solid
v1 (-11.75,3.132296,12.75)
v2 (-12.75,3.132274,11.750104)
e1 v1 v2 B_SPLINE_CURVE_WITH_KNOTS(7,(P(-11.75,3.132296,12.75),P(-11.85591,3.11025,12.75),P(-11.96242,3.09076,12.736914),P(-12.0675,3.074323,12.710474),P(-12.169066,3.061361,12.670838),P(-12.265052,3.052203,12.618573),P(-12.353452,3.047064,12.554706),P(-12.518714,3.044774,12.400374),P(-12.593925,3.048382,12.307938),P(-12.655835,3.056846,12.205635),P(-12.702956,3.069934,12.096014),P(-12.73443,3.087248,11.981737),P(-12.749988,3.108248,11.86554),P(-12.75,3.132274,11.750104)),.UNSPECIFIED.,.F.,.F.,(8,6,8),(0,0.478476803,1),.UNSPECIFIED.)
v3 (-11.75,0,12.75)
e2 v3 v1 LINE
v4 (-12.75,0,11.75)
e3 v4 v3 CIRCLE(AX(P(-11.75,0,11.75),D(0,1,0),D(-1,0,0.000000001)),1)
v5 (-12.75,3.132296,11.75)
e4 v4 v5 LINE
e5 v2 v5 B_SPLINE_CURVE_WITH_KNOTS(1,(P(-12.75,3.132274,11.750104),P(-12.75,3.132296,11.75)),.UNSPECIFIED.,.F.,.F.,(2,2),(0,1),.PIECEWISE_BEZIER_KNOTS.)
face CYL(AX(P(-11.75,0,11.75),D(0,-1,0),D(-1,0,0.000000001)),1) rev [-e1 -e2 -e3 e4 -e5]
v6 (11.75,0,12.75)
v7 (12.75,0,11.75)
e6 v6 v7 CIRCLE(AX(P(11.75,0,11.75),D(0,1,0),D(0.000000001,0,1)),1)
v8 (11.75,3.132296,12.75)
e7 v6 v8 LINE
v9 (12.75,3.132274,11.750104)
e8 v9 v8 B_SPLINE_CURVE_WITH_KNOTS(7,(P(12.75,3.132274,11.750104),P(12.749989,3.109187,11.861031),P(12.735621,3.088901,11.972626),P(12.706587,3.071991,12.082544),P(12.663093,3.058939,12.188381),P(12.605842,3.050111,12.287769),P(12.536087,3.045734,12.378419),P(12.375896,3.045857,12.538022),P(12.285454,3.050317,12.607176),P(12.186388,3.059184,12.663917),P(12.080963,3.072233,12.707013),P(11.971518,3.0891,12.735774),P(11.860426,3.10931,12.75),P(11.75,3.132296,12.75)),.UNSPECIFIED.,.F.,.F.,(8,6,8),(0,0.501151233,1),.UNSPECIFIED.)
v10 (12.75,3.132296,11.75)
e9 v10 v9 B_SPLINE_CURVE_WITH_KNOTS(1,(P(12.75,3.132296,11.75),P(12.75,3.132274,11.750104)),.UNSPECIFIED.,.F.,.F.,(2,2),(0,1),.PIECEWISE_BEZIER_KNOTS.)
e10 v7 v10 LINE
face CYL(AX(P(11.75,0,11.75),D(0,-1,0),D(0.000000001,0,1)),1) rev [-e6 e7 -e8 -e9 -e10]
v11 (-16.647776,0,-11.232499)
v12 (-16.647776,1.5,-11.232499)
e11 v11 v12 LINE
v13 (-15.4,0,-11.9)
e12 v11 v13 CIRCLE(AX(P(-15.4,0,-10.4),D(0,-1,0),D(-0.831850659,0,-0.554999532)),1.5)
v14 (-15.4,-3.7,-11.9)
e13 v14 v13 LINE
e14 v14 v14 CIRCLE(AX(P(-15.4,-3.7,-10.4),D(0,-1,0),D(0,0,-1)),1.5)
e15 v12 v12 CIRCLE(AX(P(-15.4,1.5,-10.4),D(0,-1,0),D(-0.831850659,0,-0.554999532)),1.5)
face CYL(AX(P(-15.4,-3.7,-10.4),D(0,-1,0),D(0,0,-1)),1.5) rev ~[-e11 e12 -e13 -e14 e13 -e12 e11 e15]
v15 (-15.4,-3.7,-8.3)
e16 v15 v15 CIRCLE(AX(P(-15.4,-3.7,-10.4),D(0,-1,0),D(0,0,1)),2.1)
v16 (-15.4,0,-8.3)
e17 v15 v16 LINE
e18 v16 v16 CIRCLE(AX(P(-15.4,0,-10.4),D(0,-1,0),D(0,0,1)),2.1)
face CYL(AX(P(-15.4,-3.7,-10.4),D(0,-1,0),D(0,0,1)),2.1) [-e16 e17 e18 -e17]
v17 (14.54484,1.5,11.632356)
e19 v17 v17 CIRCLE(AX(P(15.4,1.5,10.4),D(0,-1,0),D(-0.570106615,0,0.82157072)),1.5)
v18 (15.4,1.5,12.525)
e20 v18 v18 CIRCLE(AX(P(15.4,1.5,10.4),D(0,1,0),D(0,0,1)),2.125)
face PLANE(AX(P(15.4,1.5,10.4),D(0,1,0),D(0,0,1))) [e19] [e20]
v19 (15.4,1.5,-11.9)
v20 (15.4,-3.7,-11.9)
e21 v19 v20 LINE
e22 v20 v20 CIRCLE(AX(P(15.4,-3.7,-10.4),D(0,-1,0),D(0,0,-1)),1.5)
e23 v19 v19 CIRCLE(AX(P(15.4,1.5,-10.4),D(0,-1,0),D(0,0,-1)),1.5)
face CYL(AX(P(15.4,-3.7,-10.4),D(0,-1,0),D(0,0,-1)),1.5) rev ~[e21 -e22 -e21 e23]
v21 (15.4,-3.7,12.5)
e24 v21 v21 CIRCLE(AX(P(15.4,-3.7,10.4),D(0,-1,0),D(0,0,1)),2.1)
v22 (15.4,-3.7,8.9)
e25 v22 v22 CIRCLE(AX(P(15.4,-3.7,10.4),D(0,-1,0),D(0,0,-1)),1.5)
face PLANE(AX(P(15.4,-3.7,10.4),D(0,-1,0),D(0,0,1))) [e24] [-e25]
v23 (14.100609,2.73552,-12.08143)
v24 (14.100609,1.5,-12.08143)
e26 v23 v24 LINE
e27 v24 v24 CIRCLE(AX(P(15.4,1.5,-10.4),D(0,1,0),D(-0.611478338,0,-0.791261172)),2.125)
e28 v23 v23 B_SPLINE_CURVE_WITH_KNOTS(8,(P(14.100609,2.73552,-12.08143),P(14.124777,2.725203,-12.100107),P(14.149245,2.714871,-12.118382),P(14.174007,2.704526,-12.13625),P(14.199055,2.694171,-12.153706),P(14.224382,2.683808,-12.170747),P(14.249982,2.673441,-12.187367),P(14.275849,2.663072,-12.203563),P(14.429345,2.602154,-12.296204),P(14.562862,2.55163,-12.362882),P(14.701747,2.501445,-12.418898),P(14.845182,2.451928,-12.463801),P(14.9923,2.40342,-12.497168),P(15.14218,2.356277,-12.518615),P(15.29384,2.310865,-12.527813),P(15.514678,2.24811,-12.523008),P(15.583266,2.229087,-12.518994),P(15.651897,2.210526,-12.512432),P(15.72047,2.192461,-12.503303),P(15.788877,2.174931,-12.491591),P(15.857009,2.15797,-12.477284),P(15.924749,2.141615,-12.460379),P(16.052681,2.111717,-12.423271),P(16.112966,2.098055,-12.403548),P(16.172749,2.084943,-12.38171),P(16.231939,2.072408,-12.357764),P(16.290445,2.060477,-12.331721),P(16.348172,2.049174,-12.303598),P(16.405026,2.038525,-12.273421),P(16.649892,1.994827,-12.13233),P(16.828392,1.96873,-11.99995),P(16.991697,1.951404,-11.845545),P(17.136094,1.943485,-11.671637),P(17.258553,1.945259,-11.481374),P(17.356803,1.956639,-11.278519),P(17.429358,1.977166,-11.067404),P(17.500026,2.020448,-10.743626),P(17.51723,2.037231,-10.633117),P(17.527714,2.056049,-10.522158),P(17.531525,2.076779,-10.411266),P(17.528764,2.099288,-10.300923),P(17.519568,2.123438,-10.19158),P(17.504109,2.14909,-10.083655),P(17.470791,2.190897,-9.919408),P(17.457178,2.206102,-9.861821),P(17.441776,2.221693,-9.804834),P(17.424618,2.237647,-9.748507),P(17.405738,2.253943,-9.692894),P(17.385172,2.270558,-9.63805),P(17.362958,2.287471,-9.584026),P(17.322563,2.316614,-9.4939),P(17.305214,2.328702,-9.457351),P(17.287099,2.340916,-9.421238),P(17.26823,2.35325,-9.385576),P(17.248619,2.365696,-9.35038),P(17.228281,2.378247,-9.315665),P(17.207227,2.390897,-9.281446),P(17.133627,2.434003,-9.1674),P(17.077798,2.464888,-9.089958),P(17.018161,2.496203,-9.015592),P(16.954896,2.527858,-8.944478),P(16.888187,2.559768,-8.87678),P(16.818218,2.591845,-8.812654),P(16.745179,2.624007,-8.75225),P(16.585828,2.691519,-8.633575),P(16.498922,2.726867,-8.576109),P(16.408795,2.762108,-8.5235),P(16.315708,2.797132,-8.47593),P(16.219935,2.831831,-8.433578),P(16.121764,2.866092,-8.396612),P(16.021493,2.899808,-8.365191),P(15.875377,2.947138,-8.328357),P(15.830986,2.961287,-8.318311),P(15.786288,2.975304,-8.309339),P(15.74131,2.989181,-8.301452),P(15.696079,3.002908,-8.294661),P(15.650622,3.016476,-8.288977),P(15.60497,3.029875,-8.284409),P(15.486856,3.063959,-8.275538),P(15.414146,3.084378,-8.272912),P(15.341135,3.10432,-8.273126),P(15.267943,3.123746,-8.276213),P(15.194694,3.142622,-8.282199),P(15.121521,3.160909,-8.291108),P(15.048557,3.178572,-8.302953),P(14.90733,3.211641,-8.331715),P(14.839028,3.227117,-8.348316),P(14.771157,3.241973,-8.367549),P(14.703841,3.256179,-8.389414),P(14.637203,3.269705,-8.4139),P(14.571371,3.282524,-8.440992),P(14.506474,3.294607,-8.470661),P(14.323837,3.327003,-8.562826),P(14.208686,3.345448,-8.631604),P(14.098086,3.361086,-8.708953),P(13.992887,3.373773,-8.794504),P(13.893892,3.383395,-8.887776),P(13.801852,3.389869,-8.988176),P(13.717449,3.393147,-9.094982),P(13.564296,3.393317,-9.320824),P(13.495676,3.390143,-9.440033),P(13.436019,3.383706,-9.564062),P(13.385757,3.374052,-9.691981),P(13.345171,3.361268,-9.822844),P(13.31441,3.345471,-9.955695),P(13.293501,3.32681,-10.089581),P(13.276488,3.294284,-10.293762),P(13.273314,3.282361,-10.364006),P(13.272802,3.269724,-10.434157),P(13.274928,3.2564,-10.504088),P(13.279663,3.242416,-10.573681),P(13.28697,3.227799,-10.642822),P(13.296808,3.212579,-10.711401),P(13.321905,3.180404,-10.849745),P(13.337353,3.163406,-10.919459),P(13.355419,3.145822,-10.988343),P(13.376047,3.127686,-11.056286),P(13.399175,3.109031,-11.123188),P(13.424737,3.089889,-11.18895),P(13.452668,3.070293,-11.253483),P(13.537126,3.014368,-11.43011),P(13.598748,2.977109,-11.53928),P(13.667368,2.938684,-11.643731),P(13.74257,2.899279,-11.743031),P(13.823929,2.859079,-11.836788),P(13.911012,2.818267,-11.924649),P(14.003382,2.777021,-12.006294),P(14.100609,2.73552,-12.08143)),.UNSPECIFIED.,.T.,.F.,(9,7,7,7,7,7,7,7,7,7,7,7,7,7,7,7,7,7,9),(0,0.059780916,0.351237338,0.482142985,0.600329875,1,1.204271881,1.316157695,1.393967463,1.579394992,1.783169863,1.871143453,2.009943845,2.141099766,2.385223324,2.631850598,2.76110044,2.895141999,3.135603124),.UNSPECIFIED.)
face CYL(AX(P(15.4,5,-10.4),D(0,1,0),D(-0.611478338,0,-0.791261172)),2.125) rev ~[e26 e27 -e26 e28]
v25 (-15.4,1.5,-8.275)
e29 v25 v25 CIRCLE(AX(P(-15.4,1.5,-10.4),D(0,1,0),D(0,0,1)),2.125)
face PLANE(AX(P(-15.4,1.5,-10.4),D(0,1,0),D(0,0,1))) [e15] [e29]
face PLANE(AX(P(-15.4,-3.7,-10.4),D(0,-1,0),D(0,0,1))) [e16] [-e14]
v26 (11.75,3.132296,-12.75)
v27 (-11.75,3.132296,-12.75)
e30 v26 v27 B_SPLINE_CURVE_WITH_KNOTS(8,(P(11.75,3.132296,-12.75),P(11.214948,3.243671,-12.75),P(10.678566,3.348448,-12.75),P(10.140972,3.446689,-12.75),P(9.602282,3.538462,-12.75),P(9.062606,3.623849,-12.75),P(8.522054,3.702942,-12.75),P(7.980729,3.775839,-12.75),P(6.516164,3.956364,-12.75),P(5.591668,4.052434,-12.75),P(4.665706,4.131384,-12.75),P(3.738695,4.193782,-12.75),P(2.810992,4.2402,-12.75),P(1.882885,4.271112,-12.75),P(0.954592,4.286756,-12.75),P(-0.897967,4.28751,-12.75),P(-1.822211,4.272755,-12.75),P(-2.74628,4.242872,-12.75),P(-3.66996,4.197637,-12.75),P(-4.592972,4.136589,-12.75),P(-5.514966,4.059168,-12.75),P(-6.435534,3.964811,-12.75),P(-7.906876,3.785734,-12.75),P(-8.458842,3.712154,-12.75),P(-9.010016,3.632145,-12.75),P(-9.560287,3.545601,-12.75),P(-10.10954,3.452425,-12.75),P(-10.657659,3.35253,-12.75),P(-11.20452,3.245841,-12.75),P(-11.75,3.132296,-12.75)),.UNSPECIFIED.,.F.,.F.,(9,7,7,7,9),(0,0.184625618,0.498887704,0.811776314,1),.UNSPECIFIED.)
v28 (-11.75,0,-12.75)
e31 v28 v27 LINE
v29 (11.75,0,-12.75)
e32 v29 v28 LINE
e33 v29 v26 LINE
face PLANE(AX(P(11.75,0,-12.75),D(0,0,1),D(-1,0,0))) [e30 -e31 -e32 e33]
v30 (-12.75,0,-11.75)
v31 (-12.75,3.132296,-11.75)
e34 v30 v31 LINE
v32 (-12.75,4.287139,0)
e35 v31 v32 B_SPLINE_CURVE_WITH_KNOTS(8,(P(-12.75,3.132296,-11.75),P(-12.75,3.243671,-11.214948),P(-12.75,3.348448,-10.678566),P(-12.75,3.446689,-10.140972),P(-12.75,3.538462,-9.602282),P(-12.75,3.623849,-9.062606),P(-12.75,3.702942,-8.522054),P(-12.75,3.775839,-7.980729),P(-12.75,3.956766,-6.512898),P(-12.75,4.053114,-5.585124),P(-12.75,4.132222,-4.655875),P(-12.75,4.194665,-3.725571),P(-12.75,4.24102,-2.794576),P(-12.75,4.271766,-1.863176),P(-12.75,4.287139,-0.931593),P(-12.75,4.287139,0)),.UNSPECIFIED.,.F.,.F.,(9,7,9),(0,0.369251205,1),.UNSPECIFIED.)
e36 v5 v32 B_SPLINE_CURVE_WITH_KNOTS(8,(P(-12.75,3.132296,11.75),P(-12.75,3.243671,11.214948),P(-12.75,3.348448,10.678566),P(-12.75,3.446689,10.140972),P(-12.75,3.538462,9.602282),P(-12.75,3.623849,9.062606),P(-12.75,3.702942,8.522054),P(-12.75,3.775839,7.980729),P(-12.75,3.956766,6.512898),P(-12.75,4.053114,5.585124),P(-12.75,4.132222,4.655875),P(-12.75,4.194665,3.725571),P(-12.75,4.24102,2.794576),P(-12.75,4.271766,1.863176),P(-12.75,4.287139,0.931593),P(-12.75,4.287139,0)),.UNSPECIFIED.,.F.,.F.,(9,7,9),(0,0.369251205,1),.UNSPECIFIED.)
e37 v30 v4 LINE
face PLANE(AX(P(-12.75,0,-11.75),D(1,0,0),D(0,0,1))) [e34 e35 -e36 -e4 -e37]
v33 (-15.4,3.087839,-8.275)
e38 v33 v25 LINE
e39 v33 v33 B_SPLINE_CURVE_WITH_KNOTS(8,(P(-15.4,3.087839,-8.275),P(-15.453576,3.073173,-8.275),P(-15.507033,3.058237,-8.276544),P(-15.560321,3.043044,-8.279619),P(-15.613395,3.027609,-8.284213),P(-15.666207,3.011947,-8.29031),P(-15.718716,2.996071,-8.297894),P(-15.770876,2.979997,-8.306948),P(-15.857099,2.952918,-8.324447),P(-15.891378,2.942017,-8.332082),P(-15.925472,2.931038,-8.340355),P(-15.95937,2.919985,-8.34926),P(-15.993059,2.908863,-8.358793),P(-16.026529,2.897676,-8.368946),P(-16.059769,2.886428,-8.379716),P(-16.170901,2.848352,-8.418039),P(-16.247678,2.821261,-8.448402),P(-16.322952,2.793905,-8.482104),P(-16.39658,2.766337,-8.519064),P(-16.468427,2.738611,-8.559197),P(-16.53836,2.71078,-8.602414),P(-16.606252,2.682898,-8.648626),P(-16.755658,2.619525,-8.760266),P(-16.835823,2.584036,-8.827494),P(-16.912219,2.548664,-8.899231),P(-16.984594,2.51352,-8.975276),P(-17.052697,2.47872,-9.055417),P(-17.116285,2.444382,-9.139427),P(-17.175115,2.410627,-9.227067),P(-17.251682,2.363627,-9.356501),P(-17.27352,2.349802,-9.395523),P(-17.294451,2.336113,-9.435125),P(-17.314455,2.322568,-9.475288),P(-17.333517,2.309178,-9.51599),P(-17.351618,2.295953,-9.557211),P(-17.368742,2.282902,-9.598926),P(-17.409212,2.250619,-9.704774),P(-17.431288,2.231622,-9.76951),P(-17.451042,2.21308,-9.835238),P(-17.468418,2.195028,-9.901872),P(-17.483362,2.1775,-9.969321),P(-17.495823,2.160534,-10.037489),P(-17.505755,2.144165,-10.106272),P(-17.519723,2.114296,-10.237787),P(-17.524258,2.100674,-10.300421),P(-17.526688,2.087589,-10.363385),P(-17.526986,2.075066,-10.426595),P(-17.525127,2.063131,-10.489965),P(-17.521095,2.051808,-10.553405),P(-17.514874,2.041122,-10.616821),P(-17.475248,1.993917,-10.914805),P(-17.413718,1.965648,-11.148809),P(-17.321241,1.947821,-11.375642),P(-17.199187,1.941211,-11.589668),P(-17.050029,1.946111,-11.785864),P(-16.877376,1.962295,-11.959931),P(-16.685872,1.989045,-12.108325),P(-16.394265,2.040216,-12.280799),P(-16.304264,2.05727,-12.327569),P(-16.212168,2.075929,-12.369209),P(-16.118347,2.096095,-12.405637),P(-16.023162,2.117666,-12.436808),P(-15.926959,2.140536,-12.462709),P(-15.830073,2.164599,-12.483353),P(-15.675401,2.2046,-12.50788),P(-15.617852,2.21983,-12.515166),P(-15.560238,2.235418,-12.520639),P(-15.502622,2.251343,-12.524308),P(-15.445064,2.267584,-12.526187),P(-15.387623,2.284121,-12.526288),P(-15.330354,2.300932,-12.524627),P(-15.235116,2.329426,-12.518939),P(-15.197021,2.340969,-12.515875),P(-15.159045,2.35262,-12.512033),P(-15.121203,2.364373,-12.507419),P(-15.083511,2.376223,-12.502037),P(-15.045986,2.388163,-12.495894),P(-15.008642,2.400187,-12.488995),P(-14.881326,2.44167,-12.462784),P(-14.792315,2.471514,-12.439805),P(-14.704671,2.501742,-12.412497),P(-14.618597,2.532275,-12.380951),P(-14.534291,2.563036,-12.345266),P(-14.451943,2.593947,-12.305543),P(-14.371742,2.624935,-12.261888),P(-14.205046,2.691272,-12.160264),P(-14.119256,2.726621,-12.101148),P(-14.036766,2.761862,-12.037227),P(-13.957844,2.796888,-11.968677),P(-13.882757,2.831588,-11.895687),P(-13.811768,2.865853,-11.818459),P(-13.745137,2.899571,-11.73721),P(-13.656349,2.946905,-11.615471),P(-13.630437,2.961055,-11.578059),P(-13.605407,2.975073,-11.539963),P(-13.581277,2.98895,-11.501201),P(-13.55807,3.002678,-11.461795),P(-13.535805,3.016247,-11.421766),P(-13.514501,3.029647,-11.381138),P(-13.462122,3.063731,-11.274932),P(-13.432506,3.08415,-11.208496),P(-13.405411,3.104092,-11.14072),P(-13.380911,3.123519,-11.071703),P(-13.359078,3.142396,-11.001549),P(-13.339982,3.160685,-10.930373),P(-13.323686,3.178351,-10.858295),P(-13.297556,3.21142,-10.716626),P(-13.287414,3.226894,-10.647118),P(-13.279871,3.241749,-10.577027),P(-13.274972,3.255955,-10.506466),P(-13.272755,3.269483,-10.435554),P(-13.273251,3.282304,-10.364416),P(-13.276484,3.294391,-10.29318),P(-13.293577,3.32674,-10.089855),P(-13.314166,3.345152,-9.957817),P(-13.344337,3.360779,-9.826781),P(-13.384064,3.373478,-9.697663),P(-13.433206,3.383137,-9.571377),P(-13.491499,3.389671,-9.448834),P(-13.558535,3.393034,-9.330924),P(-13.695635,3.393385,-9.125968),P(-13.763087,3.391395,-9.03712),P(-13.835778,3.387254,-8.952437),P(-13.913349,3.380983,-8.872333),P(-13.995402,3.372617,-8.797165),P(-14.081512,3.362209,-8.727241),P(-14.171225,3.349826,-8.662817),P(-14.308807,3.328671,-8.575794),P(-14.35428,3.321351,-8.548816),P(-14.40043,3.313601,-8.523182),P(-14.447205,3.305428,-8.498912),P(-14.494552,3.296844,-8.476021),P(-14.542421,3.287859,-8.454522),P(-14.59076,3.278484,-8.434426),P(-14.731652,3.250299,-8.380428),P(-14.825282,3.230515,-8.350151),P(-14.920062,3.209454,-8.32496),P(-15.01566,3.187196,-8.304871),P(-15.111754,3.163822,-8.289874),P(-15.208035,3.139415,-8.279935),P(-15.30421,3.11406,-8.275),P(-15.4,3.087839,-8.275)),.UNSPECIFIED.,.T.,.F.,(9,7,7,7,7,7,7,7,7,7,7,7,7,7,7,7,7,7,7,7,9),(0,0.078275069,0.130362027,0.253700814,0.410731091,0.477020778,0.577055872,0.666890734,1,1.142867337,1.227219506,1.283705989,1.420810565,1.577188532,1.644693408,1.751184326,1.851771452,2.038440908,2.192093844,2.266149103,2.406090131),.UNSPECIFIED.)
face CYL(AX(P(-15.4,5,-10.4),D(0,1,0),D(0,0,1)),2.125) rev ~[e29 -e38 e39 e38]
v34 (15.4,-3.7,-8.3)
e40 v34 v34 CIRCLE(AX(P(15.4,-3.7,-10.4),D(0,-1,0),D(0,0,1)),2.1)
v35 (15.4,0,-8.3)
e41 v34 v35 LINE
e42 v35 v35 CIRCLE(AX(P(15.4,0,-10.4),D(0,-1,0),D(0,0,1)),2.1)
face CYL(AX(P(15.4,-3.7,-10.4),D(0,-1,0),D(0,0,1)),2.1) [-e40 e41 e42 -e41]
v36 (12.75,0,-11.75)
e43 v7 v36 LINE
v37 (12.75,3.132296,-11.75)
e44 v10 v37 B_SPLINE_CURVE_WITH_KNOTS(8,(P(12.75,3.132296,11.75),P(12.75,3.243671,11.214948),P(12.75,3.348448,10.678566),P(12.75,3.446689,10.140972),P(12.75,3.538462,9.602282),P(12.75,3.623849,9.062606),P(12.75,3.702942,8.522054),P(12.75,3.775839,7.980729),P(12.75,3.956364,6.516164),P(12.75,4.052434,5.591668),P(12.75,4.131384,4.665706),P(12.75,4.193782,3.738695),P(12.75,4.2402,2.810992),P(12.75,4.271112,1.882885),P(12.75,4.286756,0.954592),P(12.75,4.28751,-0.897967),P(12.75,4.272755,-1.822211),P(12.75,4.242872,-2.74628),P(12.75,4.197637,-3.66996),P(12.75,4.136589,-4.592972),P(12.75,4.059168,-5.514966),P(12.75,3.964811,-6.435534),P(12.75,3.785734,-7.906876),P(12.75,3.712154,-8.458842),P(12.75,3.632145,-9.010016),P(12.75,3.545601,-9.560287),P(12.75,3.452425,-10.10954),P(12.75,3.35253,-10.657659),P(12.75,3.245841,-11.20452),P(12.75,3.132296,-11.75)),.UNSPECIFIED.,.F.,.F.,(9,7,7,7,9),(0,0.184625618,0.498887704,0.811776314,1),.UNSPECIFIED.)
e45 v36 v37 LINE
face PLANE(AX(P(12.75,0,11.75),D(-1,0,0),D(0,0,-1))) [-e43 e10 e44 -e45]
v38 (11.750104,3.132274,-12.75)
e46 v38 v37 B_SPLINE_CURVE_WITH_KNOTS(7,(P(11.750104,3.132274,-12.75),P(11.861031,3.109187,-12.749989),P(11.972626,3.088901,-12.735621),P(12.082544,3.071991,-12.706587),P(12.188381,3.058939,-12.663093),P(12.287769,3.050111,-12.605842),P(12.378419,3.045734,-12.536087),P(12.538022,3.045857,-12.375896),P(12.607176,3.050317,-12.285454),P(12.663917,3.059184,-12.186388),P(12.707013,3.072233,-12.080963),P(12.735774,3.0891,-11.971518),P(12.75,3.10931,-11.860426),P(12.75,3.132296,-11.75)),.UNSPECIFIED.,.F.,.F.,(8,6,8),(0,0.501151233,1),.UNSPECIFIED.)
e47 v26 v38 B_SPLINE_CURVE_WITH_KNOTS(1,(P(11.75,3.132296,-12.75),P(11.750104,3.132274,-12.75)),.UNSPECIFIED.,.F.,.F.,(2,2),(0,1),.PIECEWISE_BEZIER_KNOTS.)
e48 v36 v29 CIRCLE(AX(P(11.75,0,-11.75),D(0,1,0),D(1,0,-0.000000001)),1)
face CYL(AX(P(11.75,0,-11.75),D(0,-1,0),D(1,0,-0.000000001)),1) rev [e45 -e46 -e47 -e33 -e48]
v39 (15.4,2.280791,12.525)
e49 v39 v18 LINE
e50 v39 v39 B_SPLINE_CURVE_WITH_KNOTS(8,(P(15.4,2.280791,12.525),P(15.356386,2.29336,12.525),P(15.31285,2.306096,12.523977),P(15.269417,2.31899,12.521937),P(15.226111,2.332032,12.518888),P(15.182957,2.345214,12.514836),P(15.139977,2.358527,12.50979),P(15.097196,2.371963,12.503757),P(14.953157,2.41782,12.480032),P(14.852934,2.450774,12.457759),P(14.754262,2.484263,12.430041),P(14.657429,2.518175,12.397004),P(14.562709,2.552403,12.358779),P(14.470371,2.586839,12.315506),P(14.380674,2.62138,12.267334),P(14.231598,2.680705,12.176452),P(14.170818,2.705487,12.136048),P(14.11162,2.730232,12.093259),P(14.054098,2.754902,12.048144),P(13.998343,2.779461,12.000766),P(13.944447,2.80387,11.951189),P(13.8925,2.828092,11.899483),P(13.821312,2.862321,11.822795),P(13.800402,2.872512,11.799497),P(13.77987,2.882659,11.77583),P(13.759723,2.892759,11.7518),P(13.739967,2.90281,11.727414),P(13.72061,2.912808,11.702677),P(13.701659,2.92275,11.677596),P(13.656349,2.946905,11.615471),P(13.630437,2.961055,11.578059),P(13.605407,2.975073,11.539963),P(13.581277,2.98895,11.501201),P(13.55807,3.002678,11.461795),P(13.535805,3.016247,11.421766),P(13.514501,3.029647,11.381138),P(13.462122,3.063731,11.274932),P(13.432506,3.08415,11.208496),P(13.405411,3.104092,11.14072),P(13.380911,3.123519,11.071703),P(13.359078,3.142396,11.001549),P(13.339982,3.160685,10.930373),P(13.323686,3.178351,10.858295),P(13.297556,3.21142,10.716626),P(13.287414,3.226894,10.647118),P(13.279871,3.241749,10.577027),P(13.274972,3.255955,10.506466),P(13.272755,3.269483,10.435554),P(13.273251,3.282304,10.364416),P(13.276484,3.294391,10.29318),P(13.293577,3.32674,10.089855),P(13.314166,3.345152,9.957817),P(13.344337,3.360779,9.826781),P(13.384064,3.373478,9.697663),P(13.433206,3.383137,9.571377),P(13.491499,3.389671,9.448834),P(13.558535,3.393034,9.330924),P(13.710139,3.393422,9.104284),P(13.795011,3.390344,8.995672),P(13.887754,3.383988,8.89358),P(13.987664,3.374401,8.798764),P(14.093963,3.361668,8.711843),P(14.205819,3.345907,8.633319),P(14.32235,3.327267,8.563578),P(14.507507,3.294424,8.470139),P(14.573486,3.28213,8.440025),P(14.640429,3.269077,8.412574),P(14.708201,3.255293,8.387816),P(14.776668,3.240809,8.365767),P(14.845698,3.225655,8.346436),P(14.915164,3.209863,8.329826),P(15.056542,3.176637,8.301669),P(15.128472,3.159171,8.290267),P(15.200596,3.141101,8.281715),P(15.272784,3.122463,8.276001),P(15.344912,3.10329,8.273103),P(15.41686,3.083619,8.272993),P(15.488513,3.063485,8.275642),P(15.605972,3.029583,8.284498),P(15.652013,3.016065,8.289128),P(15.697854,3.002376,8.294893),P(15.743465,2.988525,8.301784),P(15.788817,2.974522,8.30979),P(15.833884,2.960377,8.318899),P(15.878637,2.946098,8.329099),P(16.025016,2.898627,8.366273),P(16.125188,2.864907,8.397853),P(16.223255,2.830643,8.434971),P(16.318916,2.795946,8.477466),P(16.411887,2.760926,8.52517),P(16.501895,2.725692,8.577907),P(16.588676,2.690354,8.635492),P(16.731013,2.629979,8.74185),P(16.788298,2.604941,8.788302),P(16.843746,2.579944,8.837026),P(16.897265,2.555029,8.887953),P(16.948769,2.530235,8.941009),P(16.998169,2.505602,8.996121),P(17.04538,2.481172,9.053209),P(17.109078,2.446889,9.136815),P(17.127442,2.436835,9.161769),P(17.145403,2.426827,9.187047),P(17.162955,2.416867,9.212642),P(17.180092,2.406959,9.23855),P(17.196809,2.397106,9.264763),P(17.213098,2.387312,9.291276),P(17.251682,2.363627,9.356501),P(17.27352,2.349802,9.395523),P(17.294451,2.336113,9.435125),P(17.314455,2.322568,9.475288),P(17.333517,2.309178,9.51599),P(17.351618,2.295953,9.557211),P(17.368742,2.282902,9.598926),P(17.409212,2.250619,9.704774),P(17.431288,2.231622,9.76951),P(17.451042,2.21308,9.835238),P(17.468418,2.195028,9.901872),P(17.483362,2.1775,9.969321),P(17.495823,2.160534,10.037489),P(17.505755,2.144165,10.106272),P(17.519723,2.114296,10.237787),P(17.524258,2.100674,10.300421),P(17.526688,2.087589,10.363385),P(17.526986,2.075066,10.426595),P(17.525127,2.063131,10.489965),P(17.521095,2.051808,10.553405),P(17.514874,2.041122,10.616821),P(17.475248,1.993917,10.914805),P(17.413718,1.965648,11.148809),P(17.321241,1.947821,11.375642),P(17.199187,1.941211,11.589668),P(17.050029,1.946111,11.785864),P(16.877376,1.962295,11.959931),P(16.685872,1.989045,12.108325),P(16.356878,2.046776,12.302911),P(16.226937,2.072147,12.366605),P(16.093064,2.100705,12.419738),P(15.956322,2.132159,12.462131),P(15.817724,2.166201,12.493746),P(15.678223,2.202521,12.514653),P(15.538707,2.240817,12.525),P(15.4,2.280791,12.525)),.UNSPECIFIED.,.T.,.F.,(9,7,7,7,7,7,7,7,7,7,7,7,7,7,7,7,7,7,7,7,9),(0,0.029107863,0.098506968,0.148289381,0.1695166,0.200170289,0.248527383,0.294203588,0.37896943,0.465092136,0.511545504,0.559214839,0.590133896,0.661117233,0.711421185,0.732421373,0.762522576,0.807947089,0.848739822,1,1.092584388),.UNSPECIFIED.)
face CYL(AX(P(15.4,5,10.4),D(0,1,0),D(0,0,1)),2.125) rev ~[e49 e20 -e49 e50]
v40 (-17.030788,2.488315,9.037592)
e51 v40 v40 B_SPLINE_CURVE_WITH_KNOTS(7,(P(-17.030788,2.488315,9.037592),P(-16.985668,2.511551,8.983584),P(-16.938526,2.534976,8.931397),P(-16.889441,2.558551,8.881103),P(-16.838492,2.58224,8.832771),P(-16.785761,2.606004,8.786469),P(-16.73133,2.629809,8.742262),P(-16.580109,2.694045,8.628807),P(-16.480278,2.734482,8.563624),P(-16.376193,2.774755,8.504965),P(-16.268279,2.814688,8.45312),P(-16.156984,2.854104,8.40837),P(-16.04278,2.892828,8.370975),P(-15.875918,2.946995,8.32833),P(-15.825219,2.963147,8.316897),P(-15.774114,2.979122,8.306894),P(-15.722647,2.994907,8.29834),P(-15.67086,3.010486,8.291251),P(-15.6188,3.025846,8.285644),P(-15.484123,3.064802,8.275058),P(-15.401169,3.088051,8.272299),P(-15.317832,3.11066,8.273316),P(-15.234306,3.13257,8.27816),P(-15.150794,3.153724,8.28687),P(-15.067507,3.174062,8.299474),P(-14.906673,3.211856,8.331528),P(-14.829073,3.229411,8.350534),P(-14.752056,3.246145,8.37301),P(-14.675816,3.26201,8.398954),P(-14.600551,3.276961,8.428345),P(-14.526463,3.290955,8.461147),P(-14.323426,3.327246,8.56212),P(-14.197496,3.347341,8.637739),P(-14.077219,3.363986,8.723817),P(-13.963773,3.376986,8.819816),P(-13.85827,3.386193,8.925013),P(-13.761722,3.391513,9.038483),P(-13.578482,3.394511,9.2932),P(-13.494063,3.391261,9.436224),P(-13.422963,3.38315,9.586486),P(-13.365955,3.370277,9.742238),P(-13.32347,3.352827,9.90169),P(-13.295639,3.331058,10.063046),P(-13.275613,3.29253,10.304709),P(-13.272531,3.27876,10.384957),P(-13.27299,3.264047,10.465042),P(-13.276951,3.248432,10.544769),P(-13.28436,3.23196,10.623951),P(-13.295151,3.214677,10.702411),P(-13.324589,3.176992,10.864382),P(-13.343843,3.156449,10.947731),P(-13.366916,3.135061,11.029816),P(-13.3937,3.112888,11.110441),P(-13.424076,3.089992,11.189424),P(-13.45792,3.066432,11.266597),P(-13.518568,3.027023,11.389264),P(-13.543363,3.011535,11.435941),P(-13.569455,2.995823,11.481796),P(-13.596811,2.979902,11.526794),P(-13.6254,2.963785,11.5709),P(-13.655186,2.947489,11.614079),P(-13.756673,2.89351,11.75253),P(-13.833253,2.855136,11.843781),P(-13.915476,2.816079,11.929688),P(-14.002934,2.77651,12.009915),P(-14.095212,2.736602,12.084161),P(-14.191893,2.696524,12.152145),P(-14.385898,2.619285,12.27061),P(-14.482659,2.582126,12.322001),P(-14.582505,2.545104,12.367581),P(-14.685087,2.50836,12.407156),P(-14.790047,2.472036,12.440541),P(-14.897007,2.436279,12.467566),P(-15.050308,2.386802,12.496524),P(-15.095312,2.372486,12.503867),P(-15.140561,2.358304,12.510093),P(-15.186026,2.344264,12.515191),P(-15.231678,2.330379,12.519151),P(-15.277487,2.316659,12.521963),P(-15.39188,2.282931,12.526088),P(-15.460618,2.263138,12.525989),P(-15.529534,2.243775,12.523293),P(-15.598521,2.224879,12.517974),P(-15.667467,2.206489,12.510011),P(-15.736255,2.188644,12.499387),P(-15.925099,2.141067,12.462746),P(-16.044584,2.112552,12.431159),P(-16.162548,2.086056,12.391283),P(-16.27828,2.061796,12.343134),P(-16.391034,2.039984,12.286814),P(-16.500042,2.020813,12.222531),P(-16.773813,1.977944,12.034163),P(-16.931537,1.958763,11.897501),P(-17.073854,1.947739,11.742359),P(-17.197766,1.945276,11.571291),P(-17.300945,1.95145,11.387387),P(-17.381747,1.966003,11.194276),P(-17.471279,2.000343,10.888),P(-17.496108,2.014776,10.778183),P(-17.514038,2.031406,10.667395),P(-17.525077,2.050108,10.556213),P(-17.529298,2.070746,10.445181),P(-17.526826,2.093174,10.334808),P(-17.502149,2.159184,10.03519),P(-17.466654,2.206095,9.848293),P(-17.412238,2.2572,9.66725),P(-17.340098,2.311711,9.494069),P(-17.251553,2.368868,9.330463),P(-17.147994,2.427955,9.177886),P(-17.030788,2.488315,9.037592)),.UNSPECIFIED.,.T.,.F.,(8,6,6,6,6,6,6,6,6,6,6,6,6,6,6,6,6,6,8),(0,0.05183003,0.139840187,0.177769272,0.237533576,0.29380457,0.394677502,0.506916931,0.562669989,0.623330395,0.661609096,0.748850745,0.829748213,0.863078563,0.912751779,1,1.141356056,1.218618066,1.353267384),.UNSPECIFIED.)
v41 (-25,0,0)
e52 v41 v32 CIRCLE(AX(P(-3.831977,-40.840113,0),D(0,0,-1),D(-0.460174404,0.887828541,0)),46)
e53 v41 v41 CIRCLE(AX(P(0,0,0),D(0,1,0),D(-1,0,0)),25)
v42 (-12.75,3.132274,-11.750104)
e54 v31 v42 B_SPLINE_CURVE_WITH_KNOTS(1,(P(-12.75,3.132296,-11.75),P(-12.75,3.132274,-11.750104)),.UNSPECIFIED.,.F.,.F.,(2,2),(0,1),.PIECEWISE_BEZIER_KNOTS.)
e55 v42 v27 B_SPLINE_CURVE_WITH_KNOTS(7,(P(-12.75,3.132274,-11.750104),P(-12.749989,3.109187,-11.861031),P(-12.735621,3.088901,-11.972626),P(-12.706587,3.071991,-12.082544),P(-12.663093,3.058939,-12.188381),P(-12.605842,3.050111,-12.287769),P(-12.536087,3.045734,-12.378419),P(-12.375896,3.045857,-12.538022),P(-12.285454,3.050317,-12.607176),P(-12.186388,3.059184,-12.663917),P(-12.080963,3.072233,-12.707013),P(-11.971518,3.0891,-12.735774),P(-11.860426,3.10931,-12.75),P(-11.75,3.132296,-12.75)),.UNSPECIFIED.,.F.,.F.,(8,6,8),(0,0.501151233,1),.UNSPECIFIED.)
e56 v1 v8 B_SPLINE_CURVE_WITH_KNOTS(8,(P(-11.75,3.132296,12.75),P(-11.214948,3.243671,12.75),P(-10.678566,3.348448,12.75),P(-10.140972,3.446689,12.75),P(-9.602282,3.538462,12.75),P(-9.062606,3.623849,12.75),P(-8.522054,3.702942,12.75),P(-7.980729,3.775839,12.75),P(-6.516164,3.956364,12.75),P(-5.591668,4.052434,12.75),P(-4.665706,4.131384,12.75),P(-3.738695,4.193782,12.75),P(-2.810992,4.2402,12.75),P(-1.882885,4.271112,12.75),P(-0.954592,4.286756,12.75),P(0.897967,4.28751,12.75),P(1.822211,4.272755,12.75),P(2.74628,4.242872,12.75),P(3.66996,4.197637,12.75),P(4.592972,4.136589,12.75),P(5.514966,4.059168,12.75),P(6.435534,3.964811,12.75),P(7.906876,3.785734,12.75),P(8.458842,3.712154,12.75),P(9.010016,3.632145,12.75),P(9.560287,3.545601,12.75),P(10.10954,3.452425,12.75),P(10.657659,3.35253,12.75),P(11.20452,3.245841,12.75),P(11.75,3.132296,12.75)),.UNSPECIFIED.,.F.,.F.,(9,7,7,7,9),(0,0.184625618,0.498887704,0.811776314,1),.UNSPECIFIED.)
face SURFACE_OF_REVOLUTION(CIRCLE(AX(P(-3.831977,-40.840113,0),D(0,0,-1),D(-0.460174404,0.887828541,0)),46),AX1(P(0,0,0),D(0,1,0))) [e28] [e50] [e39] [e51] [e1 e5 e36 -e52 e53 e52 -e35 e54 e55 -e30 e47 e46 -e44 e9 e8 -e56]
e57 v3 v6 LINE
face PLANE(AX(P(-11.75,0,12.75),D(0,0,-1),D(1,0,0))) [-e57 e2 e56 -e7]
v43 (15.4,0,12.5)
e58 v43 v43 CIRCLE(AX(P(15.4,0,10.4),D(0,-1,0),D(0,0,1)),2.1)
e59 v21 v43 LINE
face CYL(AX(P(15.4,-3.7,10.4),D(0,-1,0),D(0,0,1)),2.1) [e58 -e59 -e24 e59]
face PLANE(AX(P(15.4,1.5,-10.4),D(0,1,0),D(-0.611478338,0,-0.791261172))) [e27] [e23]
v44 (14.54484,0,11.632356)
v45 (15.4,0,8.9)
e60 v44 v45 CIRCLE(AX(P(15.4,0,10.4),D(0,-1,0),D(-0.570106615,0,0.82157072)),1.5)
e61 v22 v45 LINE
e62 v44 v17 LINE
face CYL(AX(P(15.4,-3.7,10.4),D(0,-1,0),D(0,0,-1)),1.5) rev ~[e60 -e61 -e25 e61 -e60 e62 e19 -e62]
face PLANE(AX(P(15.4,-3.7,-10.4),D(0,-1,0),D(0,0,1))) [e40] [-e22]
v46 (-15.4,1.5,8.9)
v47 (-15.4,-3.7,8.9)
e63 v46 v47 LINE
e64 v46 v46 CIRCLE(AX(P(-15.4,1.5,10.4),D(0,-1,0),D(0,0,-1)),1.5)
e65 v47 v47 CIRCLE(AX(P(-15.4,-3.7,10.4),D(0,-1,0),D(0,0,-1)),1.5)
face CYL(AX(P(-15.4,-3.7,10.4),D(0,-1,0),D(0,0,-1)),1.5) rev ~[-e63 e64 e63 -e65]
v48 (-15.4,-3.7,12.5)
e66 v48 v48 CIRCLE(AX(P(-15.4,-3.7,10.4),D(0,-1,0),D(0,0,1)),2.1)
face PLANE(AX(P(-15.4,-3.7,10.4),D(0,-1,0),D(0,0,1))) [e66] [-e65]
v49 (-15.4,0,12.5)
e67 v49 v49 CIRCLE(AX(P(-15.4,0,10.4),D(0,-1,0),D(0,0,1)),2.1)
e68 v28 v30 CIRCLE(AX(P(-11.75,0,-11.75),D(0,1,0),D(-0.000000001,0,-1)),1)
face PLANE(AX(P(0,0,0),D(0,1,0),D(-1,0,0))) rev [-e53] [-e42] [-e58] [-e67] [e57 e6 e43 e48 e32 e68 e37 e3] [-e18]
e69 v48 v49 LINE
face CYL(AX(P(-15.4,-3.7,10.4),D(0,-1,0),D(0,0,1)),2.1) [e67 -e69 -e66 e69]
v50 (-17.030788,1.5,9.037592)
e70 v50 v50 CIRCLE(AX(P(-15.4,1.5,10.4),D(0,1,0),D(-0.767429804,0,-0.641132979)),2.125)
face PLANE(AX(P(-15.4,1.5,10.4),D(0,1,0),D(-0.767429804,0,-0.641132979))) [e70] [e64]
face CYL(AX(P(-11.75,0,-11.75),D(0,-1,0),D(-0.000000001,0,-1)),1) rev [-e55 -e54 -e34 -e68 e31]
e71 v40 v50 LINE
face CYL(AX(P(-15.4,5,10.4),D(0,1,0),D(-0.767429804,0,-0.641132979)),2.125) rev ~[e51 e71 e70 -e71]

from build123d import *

# Parameters (mm, degrees)
SKETCH2_R           = 1.5
CUT_EXTRUDE1_DEPTH  = 10
CUT_EXTRUDE2_DEPTH  = 7
SKETCH4_R           = 2.125
CUT_EXTRUDE4_DEPTH  = 3.5
BOSS_EXTRUDE1_START = 3.7
SKETCH5_R           = 2.1
SKETCH5_R_2         = 1.5
BOSS_EXTRUDE1_DEPTH = 3.7


with BuildPart() as part:
    # Sketch1 → Revolve1 (revolve)
    with BuildSketch(Plane.XY):
        with BuildLine():
            Line((0, 0), (-25, 0))
            ThreePointArc((-25, 0), (-12.85331964, 4.2665982), (0, 5))
            Line((0, 5), (0, 0))
        make_face()
    revolve(axis=Axis((0, 0, 0), (0, 1, 0)))

    # Sketch2 → Cut-Extrude1 (cut)
    with BuildSketch(Plane(origin=(0, 0, 0), x_dir=(-1, 0, 0), z_dir=(0, -1, 0))):
        with Locations(Location((15.4, -10.4, 0), (0, 0, 90))):
            Circle(SKETCH2_R)
        with Locations(Location((-15.4, -10.4, 0), (0, 0, 304.757660669))):
            Circle(SKETCH2_R)
        with Locations(Location((-15.4, 10.4, 0), (0, 0, 90))):
            Circle(SKETCH2_R)
        with Locations(Location((15.4, 10.4, 0), (0, 0, 33.710682562))):
            Circle(SKETCH2_R)
    extrude(amount=-CUT_EXTRUDE1_DEPTH, mode=Mode.SUBTRACT)

    # Sketch3 → Cut-Extrude2 (cut)
    with BuildSketch(Plane(origin=(0, 0, 0), x_dir=(-1, 0, 0), z_dir=(0, -1, 0))):
        with BuildLine():
            Line((11.75, -12.75), (-11.75, -12.75))
            ThreePointArc((-11.75, -12.75), (-12.457106781, -12.457106781), (-12.75, -11.75))
            Line((-12.75, -11.75), (-12.75, 11.75))
            ThreePointArc((-12.75, 11.75), (-12.457106781, 12.457106781), (-11.75, 12.75))
            Line((-11.75, 12.75), (11.75, 12.75))
            ThreePointArc((11.75, 12.75), (12.457106781, 12.457106781), (12.75, 11.75))
            Line((12.75, 11.75), (12.75, -11.75))
            ThreePointArc((12.75, -11.75), (12.457106781, -12.457106781), (11.75, -12.75))
        make_face()
    extrude(amount=-CUT_EXTRUDE2_DEPTH, mode=Mode.SUBTRACT)

    # Sketch4 → Cut-Extrude4 (cut)
    with BuildSketch(Plane(origin=(0, 5, 0), x_dir=(1, 0, 0), z_dir=(0, 1, 0))):
        with Locations(Location((-15.4, 10.4, 0), (0, 0, 270))):
            Circle(SKETCH4_R)
        with Locations(Location((15.4, 10.4, 0), (0, 0, 127.696473345))):
            Circle(SKETCH4_R)
        with Locations(Location((15.4, -10.4, 0), (0, 0, 270))):
            Circle(SKETCH4_R)
        with Locations(Location((-15.4, -10.4, 0), (0, 0, 140.12364515))):
            Circle(SKETCH4_R)
    extrude(amount=-CUT_EXTRUDE4_DEPTH, mode=Mode.SUBTRACT)

    # Sketch5 → Boss-Extrude1 (add)
    # profile 1 of 4: a face of its own
    with BuildSketch(Plane(origin=(0, 0, 0), x_dir=(-1, 0, 0), z_dir=(0, -1, 0)).offset(BOSS_EXTRUDE1_START)):
        with Locations(Location((-15.4, -10.4, 0), (0, 0, 270))):
            Circle(SKETCH5_R)
        with Locations(Location((-15.4, -10.4, 0), (0, 0, 90))):
            Circle(SKETCH5_R_2, mode=Mode.SUBTRACT)
    # profile 2 of 4: a face of its own
    with BuildSketch(Plane(origin=(0, 0, 0), x_dir=(-1, 0, 0), z_dir=(0, -1, 0)).offset(BOSS_EXTRUDE1_START)):
        with Locations(Location((15.4, -10.4, 0), (0, 0, 270))):
            Circle(SKETCH5_R)
        with Locations(Location((15.4, -10.4, 0), (0, 0, 90))):
            Circle(SKETCH5_R_2, mode=Mode.SUBTRACT)
    # profile 3 of 4: a face of its own
    with BuildSketch(Plane(origin=(0, 0, 0), x_dir=(-1, 0, 0), z_dir=(0, -1, 0)).offset(BOSS_EXTRUDE1_START)):
        with Locations(Location((-15.4, 10.4, 0), (0, 0, 270))):
            Circle(SKETCH5_R)
        with Locations(Location((-15.4, 10.4, 0), (0, 0, 90))):
            Circle(SKETCH5_R_2, mode=Mode.SUBTRACT)
    # profile 4 of 4: a face of its own
    with BuildSketch(Plane(origin=(0, 0, 0), x_dir=(-1, 0, 0), z_dir=(0, -1, 0)).offset(BOSS_EXTRUDE1_START)):
        with Locations(Location((15.4, 10.4, 0), (0, 0, 270))):
            Circle(SKETCH5_R)
        with Locations(Location((15.4, 10.4, 0), (0, 0, 90))):
            Circle(SKETCH5_R_2, mode=Mode.SUBTRACT)
    extrude(amount=-BOSS_EXTRUDE1_DEPTH)


solid = part.part
